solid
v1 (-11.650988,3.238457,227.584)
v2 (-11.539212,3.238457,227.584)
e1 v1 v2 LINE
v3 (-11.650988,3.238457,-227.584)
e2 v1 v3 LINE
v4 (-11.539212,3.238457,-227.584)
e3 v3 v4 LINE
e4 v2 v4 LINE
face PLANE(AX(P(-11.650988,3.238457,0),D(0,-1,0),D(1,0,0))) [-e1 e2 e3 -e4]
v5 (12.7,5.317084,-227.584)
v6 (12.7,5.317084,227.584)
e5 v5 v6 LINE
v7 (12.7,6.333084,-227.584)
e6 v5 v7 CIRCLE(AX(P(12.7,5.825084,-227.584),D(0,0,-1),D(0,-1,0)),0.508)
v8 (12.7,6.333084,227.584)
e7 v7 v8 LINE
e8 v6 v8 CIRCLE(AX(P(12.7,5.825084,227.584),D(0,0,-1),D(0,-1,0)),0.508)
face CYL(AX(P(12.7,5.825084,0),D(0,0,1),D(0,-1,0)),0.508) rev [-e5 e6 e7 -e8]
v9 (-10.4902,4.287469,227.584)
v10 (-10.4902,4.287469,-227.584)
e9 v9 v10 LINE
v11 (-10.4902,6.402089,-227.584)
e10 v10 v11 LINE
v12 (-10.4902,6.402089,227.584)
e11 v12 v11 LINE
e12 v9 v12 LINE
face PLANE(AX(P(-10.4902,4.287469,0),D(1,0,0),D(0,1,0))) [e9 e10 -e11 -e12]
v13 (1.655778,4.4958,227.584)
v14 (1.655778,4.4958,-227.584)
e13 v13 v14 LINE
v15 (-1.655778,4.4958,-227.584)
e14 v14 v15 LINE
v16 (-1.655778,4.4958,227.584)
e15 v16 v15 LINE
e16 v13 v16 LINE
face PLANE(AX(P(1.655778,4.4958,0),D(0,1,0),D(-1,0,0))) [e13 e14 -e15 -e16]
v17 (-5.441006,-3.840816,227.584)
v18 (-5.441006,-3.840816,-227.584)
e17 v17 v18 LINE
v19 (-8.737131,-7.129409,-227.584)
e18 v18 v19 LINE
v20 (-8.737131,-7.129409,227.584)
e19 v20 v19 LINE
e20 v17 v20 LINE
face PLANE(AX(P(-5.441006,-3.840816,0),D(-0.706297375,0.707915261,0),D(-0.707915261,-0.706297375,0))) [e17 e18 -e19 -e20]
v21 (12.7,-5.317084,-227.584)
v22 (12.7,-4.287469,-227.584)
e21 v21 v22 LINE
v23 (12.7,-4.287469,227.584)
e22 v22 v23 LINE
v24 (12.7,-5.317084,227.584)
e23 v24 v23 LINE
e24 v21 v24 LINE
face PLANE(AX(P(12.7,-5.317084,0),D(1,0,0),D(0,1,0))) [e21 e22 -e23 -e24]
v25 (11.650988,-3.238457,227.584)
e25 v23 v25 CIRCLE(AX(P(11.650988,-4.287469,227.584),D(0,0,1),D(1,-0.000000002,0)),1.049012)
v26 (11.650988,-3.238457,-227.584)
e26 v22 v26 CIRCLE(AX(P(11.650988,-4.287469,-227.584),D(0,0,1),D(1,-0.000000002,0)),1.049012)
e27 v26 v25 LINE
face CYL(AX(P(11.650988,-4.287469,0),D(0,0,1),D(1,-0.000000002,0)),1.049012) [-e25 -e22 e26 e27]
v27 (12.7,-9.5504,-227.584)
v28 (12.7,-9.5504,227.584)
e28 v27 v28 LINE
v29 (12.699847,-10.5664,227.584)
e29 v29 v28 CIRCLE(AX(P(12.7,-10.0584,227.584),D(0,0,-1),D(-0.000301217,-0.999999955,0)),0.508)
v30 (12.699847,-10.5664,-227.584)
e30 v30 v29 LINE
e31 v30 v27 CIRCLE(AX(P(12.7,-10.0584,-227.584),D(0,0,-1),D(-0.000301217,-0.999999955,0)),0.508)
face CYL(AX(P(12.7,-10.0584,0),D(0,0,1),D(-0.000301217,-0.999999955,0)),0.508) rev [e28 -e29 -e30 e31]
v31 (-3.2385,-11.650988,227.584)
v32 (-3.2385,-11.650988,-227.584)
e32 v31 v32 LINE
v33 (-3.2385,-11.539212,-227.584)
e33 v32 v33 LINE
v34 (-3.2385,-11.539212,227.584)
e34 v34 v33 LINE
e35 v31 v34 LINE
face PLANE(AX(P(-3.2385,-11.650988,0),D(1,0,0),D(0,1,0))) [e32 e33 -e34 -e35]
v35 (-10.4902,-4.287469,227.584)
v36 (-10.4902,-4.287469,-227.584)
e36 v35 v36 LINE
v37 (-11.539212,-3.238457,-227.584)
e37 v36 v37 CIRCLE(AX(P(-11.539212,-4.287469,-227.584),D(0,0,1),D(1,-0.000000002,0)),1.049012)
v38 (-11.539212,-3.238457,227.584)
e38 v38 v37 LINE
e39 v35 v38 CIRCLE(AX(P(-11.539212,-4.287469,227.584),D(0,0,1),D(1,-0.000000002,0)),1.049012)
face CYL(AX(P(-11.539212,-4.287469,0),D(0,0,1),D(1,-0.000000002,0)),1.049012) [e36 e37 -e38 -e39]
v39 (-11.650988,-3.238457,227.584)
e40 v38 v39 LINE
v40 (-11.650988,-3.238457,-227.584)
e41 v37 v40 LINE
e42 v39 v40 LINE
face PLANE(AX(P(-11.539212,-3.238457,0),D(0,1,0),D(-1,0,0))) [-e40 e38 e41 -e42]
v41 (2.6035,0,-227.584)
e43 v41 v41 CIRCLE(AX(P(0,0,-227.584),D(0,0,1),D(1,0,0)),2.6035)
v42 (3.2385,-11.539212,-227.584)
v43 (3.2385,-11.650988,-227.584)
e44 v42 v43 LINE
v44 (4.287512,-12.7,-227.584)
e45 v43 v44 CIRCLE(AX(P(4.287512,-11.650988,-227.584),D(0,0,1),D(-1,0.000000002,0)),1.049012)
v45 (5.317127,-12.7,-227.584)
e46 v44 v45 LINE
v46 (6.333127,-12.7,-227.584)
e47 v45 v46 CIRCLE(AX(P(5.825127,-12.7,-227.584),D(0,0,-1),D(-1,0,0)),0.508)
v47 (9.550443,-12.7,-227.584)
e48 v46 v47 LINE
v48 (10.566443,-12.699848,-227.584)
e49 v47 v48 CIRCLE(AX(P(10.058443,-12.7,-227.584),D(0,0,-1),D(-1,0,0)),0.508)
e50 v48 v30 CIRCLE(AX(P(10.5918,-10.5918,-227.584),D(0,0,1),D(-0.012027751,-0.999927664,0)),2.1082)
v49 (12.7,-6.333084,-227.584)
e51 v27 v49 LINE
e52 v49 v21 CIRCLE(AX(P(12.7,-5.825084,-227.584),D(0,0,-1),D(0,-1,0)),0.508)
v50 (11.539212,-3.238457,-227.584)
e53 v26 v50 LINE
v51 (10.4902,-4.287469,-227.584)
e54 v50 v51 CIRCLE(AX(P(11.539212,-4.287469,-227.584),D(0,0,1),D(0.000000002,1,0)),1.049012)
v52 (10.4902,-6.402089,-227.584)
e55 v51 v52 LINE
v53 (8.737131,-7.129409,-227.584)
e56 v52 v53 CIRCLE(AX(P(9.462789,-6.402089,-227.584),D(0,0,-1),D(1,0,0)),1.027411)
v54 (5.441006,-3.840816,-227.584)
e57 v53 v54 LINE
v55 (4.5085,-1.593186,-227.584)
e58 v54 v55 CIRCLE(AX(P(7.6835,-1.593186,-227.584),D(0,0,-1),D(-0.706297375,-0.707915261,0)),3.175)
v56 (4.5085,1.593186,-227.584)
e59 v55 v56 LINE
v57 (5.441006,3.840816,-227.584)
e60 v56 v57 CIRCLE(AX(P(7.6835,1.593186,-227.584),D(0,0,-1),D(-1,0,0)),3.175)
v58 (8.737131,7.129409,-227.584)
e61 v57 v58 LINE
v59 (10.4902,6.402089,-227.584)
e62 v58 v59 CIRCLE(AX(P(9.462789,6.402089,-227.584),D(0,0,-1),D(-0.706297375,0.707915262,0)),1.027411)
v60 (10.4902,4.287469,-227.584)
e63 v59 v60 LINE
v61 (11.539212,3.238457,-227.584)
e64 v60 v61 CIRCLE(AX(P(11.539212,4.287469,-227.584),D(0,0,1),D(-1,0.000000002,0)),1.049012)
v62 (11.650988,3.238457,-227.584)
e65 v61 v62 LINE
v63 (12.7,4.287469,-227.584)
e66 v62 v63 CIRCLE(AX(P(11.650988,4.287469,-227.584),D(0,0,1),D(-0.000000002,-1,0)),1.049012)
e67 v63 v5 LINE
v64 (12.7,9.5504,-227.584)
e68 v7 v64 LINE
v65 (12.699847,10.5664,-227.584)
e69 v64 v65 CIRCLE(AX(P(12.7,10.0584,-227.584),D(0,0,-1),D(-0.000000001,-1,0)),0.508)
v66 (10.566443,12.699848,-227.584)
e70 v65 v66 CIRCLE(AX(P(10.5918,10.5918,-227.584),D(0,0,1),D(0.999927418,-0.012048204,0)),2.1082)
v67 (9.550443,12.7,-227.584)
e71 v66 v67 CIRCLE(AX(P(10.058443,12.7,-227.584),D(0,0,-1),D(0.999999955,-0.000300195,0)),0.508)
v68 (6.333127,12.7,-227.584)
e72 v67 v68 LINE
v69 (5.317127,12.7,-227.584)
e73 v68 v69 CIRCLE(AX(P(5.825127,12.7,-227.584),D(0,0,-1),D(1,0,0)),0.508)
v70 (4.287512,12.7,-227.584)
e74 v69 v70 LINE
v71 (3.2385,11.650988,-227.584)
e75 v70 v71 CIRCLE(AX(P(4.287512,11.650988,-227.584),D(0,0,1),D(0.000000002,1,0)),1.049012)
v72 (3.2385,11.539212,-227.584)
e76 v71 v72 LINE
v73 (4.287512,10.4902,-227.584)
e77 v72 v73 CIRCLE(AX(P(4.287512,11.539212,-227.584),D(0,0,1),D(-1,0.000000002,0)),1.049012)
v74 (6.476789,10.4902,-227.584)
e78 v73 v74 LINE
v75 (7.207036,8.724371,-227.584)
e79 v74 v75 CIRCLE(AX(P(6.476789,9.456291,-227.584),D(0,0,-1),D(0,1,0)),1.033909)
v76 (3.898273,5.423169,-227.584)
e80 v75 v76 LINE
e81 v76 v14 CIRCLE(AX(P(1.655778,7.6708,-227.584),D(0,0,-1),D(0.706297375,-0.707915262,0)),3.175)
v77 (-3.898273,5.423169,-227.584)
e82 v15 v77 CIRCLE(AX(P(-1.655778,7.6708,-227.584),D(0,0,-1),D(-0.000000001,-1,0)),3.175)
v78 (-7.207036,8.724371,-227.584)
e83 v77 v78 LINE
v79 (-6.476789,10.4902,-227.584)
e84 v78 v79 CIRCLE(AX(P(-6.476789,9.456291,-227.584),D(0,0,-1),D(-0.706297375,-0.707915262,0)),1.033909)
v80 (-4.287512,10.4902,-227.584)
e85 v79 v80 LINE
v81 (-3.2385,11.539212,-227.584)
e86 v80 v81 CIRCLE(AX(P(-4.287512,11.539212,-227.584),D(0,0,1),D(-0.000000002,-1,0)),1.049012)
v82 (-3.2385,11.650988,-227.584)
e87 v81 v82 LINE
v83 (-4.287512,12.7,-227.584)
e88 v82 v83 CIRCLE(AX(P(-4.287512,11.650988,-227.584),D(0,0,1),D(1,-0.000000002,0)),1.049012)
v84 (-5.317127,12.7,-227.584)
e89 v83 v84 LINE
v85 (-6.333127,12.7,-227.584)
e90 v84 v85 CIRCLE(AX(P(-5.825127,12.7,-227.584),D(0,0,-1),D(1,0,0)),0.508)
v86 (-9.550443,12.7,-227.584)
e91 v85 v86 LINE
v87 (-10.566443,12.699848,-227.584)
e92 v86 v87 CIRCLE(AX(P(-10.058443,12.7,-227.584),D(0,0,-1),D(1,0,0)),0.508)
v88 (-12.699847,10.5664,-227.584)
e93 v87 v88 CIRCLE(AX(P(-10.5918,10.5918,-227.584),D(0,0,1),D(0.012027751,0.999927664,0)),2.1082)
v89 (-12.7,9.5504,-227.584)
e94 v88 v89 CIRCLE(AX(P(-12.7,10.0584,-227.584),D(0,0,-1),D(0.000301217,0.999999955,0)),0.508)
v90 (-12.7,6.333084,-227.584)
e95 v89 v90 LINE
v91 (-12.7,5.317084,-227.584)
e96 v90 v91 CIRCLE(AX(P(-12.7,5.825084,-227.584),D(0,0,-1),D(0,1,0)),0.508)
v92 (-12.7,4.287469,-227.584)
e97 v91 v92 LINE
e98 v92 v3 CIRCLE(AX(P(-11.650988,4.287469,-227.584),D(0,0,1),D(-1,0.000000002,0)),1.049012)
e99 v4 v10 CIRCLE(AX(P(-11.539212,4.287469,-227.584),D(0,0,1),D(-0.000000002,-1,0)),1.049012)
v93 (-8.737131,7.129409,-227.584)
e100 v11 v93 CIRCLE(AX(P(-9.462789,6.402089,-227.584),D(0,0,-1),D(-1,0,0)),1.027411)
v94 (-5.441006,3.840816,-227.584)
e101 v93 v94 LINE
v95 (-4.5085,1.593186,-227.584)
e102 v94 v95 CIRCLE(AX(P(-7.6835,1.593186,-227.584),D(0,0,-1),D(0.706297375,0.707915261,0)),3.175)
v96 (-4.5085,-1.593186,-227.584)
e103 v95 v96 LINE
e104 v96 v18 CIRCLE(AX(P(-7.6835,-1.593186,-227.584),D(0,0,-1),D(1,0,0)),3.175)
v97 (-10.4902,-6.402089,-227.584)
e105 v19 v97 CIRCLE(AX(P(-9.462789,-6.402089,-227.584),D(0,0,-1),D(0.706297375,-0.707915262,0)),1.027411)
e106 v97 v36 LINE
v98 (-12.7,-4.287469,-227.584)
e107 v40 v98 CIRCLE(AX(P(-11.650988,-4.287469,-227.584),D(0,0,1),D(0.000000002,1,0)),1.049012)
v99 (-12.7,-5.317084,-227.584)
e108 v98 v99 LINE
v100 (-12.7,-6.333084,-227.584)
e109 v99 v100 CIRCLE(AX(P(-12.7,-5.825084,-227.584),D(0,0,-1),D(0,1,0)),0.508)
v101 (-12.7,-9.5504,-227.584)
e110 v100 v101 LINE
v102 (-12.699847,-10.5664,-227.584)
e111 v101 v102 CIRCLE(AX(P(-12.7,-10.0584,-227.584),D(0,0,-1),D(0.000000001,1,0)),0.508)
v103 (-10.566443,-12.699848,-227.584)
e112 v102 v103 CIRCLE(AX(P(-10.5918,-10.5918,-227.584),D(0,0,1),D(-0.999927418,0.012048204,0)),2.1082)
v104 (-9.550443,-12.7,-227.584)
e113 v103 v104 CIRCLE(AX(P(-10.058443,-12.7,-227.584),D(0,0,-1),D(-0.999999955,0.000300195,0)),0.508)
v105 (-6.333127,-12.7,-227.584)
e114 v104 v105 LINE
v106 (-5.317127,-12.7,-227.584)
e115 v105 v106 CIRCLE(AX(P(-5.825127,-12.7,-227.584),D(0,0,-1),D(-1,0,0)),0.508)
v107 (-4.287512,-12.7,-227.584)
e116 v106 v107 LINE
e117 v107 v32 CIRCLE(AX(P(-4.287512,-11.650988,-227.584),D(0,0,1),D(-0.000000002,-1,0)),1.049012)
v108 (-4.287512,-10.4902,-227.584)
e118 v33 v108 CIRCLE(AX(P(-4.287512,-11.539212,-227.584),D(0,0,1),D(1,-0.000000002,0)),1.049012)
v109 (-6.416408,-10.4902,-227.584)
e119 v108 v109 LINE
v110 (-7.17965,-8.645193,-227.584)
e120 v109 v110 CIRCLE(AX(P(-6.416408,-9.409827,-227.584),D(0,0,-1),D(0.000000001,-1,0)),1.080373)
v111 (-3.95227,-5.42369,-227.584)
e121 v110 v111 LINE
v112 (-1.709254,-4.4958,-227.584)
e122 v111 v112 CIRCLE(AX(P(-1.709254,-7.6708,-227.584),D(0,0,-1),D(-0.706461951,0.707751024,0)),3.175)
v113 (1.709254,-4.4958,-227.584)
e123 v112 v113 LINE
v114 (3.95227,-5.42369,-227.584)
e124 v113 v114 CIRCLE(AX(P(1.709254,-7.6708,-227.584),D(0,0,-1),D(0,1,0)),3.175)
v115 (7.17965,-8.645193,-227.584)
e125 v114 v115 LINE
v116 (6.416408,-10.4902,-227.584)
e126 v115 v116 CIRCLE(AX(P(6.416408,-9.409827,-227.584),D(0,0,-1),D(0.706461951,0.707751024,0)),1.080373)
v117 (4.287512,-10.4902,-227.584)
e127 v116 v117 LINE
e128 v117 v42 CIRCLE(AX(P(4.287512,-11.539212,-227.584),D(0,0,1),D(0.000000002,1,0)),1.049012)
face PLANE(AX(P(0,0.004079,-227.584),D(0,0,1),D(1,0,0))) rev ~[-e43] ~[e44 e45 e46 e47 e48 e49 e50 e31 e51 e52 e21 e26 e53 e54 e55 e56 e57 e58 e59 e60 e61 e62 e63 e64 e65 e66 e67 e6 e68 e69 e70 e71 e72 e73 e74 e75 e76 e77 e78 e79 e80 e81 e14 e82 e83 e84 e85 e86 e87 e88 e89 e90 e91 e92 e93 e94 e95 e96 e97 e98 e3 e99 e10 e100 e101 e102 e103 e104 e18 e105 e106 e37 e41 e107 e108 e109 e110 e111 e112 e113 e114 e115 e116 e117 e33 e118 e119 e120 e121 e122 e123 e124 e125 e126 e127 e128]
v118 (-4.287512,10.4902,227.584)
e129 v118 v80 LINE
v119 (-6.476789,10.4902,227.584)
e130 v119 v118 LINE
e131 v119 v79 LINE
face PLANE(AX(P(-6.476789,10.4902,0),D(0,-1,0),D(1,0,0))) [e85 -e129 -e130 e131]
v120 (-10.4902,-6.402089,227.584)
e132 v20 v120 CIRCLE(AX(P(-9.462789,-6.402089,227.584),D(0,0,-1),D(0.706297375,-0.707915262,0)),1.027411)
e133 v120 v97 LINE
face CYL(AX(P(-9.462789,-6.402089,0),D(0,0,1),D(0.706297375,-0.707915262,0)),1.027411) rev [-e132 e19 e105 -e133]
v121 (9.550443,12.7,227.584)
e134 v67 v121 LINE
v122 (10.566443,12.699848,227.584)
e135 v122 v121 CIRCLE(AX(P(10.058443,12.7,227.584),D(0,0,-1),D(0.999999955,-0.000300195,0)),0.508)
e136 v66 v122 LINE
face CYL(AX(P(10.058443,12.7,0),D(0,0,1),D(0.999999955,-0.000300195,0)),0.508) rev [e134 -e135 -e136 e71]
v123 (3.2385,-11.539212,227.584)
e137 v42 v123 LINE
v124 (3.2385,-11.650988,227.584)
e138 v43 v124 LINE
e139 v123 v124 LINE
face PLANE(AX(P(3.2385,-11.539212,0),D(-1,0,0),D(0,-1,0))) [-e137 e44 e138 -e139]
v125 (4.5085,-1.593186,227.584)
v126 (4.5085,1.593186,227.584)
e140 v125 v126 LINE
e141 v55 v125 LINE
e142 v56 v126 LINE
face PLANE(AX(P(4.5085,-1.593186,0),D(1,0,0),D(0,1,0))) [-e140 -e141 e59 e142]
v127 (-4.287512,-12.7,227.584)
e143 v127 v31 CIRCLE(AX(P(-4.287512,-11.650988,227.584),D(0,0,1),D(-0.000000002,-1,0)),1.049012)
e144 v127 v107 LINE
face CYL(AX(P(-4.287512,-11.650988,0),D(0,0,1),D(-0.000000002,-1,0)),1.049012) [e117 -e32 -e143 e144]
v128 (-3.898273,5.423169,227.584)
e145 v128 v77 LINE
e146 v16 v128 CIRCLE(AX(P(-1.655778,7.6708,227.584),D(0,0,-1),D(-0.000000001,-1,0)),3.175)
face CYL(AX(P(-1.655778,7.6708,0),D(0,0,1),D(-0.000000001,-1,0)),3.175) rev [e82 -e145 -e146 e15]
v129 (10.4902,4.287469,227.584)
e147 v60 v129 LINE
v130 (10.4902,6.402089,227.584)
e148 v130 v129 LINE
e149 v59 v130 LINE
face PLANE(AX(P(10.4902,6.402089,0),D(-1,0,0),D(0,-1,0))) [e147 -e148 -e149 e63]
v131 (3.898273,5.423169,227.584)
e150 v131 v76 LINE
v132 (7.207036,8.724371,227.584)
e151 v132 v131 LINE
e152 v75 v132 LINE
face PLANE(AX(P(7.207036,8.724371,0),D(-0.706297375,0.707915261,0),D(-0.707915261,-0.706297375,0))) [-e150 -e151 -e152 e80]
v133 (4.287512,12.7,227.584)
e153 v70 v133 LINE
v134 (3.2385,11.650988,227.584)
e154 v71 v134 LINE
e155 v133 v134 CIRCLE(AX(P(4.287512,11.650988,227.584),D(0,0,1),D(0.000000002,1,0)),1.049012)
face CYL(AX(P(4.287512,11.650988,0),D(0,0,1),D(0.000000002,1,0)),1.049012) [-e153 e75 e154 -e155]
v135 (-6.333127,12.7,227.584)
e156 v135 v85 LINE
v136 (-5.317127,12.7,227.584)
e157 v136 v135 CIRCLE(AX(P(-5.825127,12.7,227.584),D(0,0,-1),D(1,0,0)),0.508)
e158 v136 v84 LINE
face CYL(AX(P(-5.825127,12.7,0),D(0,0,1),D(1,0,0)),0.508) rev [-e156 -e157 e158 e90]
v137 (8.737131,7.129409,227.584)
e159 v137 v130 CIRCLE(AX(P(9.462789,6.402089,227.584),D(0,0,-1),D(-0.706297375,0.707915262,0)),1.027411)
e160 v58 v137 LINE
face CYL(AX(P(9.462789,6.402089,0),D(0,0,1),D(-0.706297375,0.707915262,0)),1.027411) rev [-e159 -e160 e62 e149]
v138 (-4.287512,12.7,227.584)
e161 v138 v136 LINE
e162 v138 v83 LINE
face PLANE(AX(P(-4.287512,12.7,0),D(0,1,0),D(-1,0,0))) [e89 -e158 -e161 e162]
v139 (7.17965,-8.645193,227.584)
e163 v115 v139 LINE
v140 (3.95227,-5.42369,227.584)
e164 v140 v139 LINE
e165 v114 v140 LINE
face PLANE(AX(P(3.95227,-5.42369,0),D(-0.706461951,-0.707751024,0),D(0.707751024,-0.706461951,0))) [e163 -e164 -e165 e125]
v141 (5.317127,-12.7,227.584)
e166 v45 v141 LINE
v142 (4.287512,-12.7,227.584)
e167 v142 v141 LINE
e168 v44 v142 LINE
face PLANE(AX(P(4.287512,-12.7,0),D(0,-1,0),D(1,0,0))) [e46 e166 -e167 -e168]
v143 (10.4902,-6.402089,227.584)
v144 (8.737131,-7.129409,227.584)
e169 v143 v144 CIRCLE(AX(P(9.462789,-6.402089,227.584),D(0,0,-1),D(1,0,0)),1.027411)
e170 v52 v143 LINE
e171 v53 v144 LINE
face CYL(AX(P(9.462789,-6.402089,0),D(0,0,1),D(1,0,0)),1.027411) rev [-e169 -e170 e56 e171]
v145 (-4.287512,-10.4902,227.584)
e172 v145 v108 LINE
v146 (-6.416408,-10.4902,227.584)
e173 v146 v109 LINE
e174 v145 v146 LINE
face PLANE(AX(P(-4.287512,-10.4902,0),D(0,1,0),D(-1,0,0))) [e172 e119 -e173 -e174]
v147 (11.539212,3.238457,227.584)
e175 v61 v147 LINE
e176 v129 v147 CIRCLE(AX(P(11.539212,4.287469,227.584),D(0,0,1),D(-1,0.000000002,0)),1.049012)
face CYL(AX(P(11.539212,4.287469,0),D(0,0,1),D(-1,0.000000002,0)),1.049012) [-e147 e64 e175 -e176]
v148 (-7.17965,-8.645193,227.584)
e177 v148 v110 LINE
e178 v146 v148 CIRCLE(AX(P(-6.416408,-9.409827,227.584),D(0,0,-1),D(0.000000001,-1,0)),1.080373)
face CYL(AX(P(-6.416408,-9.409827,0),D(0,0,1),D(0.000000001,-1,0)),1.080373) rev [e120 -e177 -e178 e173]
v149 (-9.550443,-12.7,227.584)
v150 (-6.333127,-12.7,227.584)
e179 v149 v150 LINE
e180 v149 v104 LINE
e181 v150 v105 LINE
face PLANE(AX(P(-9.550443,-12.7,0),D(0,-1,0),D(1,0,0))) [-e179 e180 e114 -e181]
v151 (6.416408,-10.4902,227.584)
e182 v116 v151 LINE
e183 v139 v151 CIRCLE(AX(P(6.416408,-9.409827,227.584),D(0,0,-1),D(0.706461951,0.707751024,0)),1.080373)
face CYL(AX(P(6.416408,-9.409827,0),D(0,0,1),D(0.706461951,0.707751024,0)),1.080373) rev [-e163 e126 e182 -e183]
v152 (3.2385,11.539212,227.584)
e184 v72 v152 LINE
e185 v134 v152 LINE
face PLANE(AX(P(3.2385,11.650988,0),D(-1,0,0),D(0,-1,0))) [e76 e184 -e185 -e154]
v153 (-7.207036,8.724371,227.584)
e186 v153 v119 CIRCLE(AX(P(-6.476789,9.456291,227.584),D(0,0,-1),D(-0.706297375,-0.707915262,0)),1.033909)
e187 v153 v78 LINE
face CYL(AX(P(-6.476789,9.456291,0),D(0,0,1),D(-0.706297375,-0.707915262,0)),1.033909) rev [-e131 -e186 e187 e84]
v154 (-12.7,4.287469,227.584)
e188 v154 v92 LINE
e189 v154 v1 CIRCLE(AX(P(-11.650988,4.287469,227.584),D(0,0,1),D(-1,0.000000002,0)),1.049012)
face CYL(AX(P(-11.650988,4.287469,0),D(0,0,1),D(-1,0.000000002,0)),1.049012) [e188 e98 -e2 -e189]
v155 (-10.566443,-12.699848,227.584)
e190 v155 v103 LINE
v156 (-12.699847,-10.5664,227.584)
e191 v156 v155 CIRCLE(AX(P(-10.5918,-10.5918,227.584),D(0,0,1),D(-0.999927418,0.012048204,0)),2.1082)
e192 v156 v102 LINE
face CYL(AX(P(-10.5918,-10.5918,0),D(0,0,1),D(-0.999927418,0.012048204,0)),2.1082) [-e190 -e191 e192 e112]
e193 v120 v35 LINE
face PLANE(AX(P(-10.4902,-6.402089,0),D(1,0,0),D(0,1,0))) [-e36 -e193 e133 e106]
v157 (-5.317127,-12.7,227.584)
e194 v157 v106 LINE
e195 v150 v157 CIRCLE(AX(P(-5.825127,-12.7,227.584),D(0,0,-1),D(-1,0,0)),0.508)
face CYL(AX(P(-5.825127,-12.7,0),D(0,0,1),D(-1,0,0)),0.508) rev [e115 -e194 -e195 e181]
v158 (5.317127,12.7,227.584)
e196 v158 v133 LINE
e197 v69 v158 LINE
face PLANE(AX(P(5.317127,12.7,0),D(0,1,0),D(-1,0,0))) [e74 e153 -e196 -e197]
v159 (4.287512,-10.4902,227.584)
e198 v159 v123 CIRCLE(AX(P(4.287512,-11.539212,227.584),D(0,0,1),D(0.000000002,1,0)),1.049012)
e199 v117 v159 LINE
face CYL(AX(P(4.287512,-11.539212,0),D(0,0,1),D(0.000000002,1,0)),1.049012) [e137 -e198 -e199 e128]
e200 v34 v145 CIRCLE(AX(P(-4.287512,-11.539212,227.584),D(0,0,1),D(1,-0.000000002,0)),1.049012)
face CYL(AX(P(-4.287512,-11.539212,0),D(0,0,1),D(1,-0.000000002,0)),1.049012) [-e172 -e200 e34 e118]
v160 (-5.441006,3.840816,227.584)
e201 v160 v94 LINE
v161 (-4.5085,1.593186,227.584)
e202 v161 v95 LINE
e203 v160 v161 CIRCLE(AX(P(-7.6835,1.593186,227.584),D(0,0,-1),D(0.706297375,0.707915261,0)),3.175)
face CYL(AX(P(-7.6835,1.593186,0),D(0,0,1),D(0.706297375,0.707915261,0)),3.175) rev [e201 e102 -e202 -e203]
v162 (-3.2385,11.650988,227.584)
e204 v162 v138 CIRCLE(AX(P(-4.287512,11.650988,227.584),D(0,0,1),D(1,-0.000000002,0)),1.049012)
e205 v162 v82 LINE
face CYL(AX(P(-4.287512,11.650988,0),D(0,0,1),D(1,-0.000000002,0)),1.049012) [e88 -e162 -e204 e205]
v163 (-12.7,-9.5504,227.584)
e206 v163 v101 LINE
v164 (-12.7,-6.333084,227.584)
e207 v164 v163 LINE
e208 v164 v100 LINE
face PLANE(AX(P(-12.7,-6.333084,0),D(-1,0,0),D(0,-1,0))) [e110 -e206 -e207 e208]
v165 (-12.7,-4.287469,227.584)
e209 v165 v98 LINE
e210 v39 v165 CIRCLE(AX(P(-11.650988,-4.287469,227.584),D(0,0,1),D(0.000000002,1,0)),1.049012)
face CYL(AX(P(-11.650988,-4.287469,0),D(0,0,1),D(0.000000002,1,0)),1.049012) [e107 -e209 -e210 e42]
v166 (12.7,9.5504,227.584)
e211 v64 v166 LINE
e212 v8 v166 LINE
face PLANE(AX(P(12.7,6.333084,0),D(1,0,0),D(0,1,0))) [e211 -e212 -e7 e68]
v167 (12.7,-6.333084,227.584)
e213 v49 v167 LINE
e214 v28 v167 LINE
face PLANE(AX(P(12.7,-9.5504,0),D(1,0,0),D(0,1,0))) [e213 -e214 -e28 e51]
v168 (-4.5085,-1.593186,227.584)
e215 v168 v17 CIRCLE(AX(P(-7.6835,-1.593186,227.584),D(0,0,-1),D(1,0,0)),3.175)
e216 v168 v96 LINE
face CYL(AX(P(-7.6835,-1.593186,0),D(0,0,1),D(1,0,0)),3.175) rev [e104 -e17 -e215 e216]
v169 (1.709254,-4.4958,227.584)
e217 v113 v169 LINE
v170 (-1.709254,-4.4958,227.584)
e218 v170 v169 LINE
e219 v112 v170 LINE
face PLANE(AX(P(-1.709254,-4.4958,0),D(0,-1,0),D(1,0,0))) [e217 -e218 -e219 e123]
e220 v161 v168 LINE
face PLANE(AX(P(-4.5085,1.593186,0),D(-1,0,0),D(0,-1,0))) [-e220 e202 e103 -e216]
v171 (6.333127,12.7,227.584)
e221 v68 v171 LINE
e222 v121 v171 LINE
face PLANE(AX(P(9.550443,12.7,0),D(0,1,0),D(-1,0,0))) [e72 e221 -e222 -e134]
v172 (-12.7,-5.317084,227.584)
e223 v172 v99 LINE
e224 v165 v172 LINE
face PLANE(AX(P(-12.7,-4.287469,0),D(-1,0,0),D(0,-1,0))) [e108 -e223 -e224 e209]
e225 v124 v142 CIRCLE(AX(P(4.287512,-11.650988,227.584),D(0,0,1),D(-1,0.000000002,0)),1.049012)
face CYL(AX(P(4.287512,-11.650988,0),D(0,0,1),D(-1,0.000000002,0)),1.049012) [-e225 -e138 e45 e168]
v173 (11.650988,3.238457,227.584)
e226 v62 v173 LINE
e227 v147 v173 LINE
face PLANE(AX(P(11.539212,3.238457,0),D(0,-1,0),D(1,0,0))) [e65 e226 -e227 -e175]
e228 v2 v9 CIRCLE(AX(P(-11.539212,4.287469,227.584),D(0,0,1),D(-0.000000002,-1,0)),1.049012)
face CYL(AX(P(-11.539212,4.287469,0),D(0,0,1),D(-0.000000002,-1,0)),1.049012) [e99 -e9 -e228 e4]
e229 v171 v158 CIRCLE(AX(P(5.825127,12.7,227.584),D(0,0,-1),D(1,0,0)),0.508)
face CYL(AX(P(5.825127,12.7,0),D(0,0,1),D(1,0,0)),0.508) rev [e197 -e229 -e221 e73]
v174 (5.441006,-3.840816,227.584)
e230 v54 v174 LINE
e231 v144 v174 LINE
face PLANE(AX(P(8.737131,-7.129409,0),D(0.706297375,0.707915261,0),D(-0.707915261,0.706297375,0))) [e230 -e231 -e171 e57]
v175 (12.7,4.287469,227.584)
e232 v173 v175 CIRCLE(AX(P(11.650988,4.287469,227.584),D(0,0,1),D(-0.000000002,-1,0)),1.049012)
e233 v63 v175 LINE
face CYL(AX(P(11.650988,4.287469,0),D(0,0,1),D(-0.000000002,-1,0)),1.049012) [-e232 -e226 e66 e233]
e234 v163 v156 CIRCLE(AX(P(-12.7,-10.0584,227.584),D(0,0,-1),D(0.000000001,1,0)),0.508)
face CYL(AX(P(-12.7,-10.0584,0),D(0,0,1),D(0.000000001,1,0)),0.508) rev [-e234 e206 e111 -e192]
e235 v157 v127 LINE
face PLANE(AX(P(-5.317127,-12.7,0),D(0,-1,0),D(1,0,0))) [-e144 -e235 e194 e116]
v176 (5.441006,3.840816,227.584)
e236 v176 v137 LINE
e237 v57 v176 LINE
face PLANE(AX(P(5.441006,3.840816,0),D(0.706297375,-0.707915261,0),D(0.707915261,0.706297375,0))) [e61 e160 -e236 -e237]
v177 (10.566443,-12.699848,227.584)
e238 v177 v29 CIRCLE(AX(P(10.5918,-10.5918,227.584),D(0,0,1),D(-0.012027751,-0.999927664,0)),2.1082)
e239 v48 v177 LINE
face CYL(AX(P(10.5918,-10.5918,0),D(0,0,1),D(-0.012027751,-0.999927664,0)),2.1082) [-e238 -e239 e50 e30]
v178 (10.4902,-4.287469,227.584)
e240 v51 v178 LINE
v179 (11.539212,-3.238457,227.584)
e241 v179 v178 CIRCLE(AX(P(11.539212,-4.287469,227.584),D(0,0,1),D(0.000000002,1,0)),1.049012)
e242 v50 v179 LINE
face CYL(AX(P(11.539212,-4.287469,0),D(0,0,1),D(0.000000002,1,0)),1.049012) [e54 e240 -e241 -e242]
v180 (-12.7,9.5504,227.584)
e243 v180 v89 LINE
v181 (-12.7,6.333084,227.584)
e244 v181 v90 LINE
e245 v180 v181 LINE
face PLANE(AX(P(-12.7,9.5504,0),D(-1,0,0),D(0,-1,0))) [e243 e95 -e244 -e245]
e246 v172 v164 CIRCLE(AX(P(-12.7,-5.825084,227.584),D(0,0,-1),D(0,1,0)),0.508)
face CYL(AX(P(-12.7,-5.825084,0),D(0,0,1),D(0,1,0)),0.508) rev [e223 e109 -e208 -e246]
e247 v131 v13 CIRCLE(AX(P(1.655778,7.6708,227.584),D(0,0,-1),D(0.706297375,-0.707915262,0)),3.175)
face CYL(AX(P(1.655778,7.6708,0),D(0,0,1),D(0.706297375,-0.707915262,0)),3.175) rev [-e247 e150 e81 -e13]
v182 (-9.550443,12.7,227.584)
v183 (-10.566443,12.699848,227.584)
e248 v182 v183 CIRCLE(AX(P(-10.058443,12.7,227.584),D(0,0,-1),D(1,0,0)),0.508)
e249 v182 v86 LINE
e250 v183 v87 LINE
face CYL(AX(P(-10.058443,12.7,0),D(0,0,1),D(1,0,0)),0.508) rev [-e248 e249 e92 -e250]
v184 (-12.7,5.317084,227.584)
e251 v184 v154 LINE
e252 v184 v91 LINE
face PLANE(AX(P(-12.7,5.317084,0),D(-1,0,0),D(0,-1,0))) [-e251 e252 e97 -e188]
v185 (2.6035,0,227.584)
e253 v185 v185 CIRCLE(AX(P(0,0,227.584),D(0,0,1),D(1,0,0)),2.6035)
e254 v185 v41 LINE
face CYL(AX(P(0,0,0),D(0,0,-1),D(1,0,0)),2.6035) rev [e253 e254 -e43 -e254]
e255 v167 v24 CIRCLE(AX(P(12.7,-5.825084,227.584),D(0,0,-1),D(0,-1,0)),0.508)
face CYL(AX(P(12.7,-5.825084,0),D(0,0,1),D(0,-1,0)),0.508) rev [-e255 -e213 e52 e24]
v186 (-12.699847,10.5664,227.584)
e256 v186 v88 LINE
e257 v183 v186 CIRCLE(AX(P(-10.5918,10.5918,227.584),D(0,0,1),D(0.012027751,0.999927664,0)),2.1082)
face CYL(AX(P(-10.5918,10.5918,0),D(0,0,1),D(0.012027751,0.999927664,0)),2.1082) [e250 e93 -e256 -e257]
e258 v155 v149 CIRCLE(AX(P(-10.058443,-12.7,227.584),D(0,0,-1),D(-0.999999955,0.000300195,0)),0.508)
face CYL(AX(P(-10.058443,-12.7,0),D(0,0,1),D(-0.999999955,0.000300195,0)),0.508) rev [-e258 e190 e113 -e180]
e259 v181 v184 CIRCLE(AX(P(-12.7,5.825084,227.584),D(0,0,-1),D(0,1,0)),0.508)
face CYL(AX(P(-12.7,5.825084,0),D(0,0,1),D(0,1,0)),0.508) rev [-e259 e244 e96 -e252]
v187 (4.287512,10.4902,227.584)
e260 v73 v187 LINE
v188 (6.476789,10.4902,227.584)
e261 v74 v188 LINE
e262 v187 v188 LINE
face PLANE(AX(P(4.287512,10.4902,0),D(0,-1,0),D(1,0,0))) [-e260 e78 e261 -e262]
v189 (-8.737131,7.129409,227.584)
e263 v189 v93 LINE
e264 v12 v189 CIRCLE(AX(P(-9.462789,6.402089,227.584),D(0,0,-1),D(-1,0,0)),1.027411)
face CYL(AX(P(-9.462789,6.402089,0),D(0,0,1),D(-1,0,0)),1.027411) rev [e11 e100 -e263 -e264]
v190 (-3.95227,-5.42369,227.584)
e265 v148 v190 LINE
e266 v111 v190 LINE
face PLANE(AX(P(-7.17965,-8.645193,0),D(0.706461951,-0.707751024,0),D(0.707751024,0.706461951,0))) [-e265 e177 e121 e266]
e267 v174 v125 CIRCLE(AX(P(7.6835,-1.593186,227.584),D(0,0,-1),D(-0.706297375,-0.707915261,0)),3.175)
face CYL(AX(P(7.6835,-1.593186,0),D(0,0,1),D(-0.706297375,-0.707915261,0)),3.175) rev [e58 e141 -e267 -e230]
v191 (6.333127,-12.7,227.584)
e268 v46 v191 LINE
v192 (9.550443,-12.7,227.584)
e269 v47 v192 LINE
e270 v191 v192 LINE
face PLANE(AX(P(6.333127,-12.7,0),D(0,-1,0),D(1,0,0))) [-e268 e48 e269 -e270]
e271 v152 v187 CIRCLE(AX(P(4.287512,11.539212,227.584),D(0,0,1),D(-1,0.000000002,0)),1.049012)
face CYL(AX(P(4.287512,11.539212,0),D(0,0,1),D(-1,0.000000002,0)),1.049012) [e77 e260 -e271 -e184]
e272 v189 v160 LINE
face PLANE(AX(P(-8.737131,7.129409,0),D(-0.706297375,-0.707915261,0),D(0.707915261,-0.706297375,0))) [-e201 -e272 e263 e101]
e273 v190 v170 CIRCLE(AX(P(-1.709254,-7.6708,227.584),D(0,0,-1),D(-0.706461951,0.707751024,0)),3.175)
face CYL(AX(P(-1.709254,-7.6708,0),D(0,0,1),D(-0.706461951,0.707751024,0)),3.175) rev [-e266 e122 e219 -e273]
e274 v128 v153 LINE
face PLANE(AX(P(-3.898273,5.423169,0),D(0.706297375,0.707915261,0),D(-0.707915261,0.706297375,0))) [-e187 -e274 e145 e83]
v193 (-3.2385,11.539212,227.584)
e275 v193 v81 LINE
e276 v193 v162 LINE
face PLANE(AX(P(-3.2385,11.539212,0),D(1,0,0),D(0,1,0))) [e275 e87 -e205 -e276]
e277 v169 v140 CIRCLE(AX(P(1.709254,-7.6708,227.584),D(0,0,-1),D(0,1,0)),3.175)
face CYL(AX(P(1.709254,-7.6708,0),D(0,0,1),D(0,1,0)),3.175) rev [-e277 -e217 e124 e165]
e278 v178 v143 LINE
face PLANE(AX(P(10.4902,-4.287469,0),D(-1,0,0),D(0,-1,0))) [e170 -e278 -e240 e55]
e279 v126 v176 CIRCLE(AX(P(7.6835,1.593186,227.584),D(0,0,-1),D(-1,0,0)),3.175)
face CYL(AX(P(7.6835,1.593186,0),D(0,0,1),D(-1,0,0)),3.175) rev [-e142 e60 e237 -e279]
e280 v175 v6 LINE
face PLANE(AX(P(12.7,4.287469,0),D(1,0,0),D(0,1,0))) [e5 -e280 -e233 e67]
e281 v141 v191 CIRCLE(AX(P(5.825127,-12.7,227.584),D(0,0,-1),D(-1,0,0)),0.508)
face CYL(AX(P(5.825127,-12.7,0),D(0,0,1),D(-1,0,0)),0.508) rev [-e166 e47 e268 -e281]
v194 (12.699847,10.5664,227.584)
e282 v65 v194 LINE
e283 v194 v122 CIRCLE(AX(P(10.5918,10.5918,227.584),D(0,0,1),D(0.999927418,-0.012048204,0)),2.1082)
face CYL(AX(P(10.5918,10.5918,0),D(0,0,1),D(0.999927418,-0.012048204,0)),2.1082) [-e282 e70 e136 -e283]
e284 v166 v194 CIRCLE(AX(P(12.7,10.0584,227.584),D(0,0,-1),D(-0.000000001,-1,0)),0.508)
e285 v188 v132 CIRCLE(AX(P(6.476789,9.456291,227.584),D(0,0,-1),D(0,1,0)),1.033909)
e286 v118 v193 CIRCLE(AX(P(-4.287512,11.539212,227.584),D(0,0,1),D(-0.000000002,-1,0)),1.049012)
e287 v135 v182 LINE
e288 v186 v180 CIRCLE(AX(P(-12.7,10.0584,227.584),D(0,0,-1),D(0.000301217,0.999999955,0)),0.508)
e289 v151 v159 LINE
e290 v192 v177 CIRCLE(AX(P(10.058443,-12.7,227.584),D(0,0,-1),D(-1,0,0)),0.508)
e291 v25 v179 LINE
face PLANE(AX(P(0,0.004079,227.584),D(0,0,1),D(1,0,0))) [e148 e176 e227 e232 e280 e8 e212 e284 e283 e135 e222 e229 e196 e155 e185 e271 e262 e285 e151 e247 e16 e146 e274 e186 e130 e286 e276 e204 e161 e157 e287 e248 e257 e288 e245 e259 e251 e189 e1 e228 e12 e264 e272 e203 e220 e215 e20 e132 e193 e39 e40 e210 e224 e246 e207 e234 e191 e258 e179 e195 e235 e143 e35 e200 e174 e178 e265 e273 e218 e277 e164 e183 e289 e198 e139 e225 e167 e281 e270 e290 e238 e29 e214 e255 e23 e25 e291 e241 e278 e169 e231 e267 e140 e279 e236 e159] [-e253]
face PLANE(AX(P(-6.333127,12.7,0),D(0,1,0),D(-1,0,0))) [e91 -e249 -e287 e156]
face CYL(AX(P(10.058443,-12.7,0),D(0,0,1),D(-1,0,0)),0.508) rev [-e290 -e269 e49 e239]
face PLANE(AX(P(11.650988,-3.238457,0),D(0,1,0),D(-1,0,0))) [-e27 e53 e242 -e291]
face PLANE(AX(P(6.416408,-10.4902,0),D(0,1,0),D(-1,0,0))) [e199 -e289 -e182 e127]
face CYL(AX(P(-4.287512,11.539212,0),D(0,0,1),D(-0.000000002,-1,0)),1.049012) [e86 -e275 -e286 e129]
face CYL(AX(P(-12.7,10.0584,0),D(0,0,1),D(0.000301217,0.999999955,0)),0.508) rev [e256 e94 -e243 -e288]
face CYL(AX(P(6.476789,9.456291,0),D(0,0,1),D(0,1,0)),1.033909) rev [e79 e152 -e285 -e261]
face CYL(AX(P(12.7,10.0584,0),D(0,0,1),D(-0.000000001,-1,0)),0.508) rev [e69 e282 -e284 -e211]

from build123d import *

# Parameters (mm, degrees)
SKETCH1_R           = 2.6035
BOSS_EXTRUDE1_DEPTH = 227.584


with BuildPart() as part:
    # Sketch1 → Boss-Extrude1 (new, symmetric)
    with BuildSketch(Plane.XY):
        with BuildLine():
            Line((-7.179650497, -8.645192506), (-3.952270251, -5.423690499))
            ThreePointArc((-3.952270251, -5.423690499), (-2.922936451, -4.736929036), (-1.709253557, -4.4958))
            Line((-1.709253557, -4.4958), (1.709253557, -4.4958))
            ThreePointArc((1.709253557, -4.4958), (2.922936451, -4.736929036), (3.952270251, -5.423690499))
            Line((3.952270251, -5.423690499), (7.179650497, -8.645192506))
            ThreePointArc((7.179650497, -8.645192506), (7.41473083, -9.822813117), (6.416408329, -10.4902))
            Line((6.416408329, -10.4902), (4.287512407, -10.4902))
            ThreePointArc((4.287512407, -10.4902), (3.54574862, -10.79744862), (3.2385, -11.539212407))
            Line((3.2385, -11.539212407), (3.2385, -11.650987593))
            ThreePointArc((3.2385, -11.650987593), (3.54574862, -12.39275138), (4.287512407, -12.7))
            Line((4.287512407, -12.7), (5.317126718, -12.7))
            ThreePointArc((5.317126718, -12.7), (5.825126718, -12.192), (6.333126718, -12.7))
            Line((6.333126718, -12.7), (9.550443118, -12.7))
            ThreePointArc((9.550443118, -12.7), (10.058366869, -12.192000006), (10.566443095, -12.699847501))
            ThreePointArc((10.566443095, -12.699847501), (12.082537762, -12.08250727), (12.699846982, -10.566399977))
            ThreePointArc((12.699846982, -10.566399977), (12.192000006, -10.058323491), (12.7, -9.5504))
            Line((12.7, -9.5504), (12.7, -6.3330836))
            ThreePointArc((12.7, -6.3330836), (12.192, -5.8250836), (12.7, -5.3170836))
            Line((12.7, -5.3170836), (12.7, -4.287469289))
            ThreePointArc((12.7, -4.287469289), (12.39275138, -3.545705502), (11.650987593, -3.238456882))
            Line((11.650987593, -3.238456882), (11.539212407, -3.238456882))
            ThreePointArc((11.539212407, -3.238456882), (10.79744862, -3.545705502), (10.4902, -4.287469289))
            Line((10.4902, -4.287469289), (10.4902, -6.402089023))
            ThreePointArc((10.4902, -6.402089023), (9.856505071, -7.351067942), (8.737131347, -7.129408934))
            Line((8.737131347, -7.129408934), (5.441005833, -3.840816462))
            ThreePointArc((5.441005833, -3.840816462), (4.750877967, -2.809883091), (4.5085, -1.593185507))
            Line((4.5085, -1.593185507), (4.5085, 1.593185507))
            ThreePointArc((4.5085, 1.593185507), (4.750877967, 2.809883091), (5.441005833, 3.840816462))
            Line((5.441005833, 3.840816462), (8.737131347, 7.129408934))
            ThreePointArc((8.737131347, 7.129408934), (9.856505071, 7.351067942), (10.4902, 6.402089023))
            Line((10.4902, 6.402089023), (10.4902, 4.287469289))
            ThreePointArc((10.4902, 4.287469289), (10.79744862, 3.545705502), (11.539212407, 3.238456882))
            Line((11.539212407, 3.238456882), (11.650987593, 3.238456882))
            ThreePointArc((11.650987593, 3.238456882), (12.39275138, 3.545705502), (12.7, 4.287469289))
            Line((12.7, 4.287469289), (12.7, 5.3170836))
            ThreePointArc((12.7, 5.3170836), (12.192, 5.8250836), (12.7, 6.3330836))
            Line((12.7, 6.3330836), (12.7, 9.5504))
            ThreePointArc((12.7, 9.5504), (12.192000006, 10.058323491), (12.699846982, 10.566399977))
            ThreePointArc((12.699846982, 10.566399977), (12.082537762, 12.08250727), (10.566443095, 12.699847501))
            ThreePointArc((10.566443095, 12.699847501), (10.058366869, 12.192000006), (9.550443118, 12.7))
            Line((9.550443118, 12.7), (6.333126718, 12.7))
            ThreePointArc((6.333126718, 12.7), (5.825126718, 12.192), (5.317126718, 12.7))
            Line((5.317126718, 12.7), (4.287512407, 12.7))
            ThreePointArc((4.287512407, 12.7), (3.54574862, 12.39275138), (3.2385, 11.650987593))
            Line((3.2385, 11.650987593), (3.2385, 11.539212407))
            ThreePointArc((3.2385, 11.539212407), (3.54574862, 10.79744862), (4.287512407, 10.4902))
            Line((4.287512407, 10.4902), (6.476788598, 10.4902))
            ThreePointArc((6.476788598, 10.4902), (7.432222385, 9.85140422), (7.207036008, 8.724370562))
            Line((7.207036008, 8.724370562), (3.898272566, 5.423169045))
            ThreePointArc((3.898272566, 5.423169045), (2.869120213, 4.736787962), (1.655778399, 4.4958))
            Line((1.655778399, 4.4958), (-1.655778399, 4.4958))
            ThreePointArc((-1.655778399, 4.4958), (-2.869120213, 4.736787962), (-3.898272566, 5.423169045))
            Line((-3.898272566, 5.423169045), (-7.207036008, 8.724370562))
            ThreePointArc((-7.207036008, 8.724370562), (-7.432222385, 9.85140422), (-6.476788598, 10.4902))
            Line((-6.476788598, 10.4902), (-4.287512407, 10.4902))
            ThreePointArc((-4.287512407, 10.4902), (-3.54574862, 10.79744862), (-3.2385, 11.539212407))
            Line((-3.2385, 11.539212407), (-3.2385, 11.650987593))
            ThreePointArc((-3.2385, 11.650987593), (-3.54574862, 12.39275138), (-4.287512407, 12.7))
            Line((-4.287512407, 12.7), (-5.317126718, 12.7))
            ThreePointArc((-5.317126718, 12.7), (-5.825126718, 12.192), (-6.333126718, 12.7))
            Line((-6.333126718, 12.7), (-9.550443118, 12.7))
            ThreePointArc((-9.550443118, 12.7), (-10.058366869, 12.192000006), (-10.566443095, 12.699847501))
            ThreePointArc((-10.566443095, 12.699847501), (-12.082537762, 12.08250727), (-12.699846982, 10.566399977))
            ThreePointArc((-12.699846982, 10.566399977), (-12.192000006, 10.058323491), (-12.7, 9.5504))
            Line((-12.7, 9.5504), (-12.7, 6.3330836))
            ThreePointArc((-12.7, 6.3330836), (-12.192, 5.8250836), (-12.7, 5.3170836))
            Line((-12.7, 5.3170836), (-12.7, 4.287469289))
            ThreePointArc((-12.7, 4.287469289), (-12.39275138, 3.545705502), (-11.650987593, 3.238456882))
            Line((-11.650987593, 3.238456882), (-11.539212407, 3.238456882))
            ThreePointArc((-11.539212407, 3.238456882), (-10.79744862, 3.545705502), (-10.4902, 4.287469289))
            Line((-10.4902, 4.287469289), (-10.4902, 6.402089023))
            ThreePointArc((-10.4902, 6.402089023), (-9.856505071, 7.351067942), (-8.737131347, 7.129408934))
            Line((-8.737131347, 7.129408934), (-5.441005833, 3.840816462))
            ThreePointArc((-5.441005833, 3.840816462), (-4.750877967, 2.809883091), (-4.5085, 1.593185507))
            Line((-4.5085, 1.593185507), (-4.5085, -1.593185507))
            ThreePointArc((-4.5085, -1.593185507), (-4.750877967, -2.809883091), (-5.441005833, -3.840816462))
            Line((-5.441005833, -3.840816462), (-8.737131347, -7.129408934))
            ThreePointArc((-8.737131347, -7.129408934), (-9.856505071, -7.351067942), (-10.4902, -6.402089023))
            Line((-10.4902, -6.402089023), (-10.4902, -4.287469289))
            ThreePointArc((-10.4902, -4.287469289), (-10.79744862, -3.545705502), (-11.539212407, -3.238456882))
            Line((-11.539212407, -3.238456882), (-11.650987593, -3.238456882))
            ThreePointArc((-11.650987593, -3.238456882), (-12.39275138, -3.545705502), (-12.7, -4.287469289))
            Line((-12.7, -4.287469289), (-12.7, -5.3170836))
            ThreePointArc((-12.7, -5.3170836), (-12.192, -5.8250836), (-12.7, -6.3330836))
            Line((-12.7, -6.3330836), (-12.7, -9.5504))
            ThreePointArc((-12.7, -9.5504), (-12.192000006, -10.058323491), (-12.699846982, -10.566399977))
            ThreePointArc((-12.699846982, -10.566399977), (-12.082537762, -12.08250727), (-10.566443095, -12.699847501))
            ThreePointArc((-10.566443095, -12.699847501), (-10.058366869, -12.192000006), (-9.550443118, -12.7))
            Line((-9.550443118, -12.7), (-6.333126718, -12.7))
            ThreePointArc((-6.333126718, -12.7), (-5.825126718, -12.192), (-5.317126718, -12.7))
            Line((-5.317126718, -12.7), (-4.287512407, -12.7))
            ThreePointArc((-4.287512407, -12.7), (-3.54574862, -12.39275138), (-3.2385, -11.650987593))
            Line((-3.2385, -11.650987593), (-3.2385, -11.539212407))
            ThreePointArc((-3.2385, -11.539212407), (-3.54574862, -10.79744862), (-4.287512407, -10.4902))
            Line((-4.287512407, -10.4902), (-6.416408329, -10.4902))
            ThreePointArc((-6.416408329, -10.4902), (-7.41473083, -9.822813117), (-7.179650497, -8.645192506))
        make_face()
        Circle(SKETCH1_R, mode=Mode.SUBTRACT)
    extrude(amount=BOSS_EXTRUDE1_DEPTH, both=True)


solid = part.part
